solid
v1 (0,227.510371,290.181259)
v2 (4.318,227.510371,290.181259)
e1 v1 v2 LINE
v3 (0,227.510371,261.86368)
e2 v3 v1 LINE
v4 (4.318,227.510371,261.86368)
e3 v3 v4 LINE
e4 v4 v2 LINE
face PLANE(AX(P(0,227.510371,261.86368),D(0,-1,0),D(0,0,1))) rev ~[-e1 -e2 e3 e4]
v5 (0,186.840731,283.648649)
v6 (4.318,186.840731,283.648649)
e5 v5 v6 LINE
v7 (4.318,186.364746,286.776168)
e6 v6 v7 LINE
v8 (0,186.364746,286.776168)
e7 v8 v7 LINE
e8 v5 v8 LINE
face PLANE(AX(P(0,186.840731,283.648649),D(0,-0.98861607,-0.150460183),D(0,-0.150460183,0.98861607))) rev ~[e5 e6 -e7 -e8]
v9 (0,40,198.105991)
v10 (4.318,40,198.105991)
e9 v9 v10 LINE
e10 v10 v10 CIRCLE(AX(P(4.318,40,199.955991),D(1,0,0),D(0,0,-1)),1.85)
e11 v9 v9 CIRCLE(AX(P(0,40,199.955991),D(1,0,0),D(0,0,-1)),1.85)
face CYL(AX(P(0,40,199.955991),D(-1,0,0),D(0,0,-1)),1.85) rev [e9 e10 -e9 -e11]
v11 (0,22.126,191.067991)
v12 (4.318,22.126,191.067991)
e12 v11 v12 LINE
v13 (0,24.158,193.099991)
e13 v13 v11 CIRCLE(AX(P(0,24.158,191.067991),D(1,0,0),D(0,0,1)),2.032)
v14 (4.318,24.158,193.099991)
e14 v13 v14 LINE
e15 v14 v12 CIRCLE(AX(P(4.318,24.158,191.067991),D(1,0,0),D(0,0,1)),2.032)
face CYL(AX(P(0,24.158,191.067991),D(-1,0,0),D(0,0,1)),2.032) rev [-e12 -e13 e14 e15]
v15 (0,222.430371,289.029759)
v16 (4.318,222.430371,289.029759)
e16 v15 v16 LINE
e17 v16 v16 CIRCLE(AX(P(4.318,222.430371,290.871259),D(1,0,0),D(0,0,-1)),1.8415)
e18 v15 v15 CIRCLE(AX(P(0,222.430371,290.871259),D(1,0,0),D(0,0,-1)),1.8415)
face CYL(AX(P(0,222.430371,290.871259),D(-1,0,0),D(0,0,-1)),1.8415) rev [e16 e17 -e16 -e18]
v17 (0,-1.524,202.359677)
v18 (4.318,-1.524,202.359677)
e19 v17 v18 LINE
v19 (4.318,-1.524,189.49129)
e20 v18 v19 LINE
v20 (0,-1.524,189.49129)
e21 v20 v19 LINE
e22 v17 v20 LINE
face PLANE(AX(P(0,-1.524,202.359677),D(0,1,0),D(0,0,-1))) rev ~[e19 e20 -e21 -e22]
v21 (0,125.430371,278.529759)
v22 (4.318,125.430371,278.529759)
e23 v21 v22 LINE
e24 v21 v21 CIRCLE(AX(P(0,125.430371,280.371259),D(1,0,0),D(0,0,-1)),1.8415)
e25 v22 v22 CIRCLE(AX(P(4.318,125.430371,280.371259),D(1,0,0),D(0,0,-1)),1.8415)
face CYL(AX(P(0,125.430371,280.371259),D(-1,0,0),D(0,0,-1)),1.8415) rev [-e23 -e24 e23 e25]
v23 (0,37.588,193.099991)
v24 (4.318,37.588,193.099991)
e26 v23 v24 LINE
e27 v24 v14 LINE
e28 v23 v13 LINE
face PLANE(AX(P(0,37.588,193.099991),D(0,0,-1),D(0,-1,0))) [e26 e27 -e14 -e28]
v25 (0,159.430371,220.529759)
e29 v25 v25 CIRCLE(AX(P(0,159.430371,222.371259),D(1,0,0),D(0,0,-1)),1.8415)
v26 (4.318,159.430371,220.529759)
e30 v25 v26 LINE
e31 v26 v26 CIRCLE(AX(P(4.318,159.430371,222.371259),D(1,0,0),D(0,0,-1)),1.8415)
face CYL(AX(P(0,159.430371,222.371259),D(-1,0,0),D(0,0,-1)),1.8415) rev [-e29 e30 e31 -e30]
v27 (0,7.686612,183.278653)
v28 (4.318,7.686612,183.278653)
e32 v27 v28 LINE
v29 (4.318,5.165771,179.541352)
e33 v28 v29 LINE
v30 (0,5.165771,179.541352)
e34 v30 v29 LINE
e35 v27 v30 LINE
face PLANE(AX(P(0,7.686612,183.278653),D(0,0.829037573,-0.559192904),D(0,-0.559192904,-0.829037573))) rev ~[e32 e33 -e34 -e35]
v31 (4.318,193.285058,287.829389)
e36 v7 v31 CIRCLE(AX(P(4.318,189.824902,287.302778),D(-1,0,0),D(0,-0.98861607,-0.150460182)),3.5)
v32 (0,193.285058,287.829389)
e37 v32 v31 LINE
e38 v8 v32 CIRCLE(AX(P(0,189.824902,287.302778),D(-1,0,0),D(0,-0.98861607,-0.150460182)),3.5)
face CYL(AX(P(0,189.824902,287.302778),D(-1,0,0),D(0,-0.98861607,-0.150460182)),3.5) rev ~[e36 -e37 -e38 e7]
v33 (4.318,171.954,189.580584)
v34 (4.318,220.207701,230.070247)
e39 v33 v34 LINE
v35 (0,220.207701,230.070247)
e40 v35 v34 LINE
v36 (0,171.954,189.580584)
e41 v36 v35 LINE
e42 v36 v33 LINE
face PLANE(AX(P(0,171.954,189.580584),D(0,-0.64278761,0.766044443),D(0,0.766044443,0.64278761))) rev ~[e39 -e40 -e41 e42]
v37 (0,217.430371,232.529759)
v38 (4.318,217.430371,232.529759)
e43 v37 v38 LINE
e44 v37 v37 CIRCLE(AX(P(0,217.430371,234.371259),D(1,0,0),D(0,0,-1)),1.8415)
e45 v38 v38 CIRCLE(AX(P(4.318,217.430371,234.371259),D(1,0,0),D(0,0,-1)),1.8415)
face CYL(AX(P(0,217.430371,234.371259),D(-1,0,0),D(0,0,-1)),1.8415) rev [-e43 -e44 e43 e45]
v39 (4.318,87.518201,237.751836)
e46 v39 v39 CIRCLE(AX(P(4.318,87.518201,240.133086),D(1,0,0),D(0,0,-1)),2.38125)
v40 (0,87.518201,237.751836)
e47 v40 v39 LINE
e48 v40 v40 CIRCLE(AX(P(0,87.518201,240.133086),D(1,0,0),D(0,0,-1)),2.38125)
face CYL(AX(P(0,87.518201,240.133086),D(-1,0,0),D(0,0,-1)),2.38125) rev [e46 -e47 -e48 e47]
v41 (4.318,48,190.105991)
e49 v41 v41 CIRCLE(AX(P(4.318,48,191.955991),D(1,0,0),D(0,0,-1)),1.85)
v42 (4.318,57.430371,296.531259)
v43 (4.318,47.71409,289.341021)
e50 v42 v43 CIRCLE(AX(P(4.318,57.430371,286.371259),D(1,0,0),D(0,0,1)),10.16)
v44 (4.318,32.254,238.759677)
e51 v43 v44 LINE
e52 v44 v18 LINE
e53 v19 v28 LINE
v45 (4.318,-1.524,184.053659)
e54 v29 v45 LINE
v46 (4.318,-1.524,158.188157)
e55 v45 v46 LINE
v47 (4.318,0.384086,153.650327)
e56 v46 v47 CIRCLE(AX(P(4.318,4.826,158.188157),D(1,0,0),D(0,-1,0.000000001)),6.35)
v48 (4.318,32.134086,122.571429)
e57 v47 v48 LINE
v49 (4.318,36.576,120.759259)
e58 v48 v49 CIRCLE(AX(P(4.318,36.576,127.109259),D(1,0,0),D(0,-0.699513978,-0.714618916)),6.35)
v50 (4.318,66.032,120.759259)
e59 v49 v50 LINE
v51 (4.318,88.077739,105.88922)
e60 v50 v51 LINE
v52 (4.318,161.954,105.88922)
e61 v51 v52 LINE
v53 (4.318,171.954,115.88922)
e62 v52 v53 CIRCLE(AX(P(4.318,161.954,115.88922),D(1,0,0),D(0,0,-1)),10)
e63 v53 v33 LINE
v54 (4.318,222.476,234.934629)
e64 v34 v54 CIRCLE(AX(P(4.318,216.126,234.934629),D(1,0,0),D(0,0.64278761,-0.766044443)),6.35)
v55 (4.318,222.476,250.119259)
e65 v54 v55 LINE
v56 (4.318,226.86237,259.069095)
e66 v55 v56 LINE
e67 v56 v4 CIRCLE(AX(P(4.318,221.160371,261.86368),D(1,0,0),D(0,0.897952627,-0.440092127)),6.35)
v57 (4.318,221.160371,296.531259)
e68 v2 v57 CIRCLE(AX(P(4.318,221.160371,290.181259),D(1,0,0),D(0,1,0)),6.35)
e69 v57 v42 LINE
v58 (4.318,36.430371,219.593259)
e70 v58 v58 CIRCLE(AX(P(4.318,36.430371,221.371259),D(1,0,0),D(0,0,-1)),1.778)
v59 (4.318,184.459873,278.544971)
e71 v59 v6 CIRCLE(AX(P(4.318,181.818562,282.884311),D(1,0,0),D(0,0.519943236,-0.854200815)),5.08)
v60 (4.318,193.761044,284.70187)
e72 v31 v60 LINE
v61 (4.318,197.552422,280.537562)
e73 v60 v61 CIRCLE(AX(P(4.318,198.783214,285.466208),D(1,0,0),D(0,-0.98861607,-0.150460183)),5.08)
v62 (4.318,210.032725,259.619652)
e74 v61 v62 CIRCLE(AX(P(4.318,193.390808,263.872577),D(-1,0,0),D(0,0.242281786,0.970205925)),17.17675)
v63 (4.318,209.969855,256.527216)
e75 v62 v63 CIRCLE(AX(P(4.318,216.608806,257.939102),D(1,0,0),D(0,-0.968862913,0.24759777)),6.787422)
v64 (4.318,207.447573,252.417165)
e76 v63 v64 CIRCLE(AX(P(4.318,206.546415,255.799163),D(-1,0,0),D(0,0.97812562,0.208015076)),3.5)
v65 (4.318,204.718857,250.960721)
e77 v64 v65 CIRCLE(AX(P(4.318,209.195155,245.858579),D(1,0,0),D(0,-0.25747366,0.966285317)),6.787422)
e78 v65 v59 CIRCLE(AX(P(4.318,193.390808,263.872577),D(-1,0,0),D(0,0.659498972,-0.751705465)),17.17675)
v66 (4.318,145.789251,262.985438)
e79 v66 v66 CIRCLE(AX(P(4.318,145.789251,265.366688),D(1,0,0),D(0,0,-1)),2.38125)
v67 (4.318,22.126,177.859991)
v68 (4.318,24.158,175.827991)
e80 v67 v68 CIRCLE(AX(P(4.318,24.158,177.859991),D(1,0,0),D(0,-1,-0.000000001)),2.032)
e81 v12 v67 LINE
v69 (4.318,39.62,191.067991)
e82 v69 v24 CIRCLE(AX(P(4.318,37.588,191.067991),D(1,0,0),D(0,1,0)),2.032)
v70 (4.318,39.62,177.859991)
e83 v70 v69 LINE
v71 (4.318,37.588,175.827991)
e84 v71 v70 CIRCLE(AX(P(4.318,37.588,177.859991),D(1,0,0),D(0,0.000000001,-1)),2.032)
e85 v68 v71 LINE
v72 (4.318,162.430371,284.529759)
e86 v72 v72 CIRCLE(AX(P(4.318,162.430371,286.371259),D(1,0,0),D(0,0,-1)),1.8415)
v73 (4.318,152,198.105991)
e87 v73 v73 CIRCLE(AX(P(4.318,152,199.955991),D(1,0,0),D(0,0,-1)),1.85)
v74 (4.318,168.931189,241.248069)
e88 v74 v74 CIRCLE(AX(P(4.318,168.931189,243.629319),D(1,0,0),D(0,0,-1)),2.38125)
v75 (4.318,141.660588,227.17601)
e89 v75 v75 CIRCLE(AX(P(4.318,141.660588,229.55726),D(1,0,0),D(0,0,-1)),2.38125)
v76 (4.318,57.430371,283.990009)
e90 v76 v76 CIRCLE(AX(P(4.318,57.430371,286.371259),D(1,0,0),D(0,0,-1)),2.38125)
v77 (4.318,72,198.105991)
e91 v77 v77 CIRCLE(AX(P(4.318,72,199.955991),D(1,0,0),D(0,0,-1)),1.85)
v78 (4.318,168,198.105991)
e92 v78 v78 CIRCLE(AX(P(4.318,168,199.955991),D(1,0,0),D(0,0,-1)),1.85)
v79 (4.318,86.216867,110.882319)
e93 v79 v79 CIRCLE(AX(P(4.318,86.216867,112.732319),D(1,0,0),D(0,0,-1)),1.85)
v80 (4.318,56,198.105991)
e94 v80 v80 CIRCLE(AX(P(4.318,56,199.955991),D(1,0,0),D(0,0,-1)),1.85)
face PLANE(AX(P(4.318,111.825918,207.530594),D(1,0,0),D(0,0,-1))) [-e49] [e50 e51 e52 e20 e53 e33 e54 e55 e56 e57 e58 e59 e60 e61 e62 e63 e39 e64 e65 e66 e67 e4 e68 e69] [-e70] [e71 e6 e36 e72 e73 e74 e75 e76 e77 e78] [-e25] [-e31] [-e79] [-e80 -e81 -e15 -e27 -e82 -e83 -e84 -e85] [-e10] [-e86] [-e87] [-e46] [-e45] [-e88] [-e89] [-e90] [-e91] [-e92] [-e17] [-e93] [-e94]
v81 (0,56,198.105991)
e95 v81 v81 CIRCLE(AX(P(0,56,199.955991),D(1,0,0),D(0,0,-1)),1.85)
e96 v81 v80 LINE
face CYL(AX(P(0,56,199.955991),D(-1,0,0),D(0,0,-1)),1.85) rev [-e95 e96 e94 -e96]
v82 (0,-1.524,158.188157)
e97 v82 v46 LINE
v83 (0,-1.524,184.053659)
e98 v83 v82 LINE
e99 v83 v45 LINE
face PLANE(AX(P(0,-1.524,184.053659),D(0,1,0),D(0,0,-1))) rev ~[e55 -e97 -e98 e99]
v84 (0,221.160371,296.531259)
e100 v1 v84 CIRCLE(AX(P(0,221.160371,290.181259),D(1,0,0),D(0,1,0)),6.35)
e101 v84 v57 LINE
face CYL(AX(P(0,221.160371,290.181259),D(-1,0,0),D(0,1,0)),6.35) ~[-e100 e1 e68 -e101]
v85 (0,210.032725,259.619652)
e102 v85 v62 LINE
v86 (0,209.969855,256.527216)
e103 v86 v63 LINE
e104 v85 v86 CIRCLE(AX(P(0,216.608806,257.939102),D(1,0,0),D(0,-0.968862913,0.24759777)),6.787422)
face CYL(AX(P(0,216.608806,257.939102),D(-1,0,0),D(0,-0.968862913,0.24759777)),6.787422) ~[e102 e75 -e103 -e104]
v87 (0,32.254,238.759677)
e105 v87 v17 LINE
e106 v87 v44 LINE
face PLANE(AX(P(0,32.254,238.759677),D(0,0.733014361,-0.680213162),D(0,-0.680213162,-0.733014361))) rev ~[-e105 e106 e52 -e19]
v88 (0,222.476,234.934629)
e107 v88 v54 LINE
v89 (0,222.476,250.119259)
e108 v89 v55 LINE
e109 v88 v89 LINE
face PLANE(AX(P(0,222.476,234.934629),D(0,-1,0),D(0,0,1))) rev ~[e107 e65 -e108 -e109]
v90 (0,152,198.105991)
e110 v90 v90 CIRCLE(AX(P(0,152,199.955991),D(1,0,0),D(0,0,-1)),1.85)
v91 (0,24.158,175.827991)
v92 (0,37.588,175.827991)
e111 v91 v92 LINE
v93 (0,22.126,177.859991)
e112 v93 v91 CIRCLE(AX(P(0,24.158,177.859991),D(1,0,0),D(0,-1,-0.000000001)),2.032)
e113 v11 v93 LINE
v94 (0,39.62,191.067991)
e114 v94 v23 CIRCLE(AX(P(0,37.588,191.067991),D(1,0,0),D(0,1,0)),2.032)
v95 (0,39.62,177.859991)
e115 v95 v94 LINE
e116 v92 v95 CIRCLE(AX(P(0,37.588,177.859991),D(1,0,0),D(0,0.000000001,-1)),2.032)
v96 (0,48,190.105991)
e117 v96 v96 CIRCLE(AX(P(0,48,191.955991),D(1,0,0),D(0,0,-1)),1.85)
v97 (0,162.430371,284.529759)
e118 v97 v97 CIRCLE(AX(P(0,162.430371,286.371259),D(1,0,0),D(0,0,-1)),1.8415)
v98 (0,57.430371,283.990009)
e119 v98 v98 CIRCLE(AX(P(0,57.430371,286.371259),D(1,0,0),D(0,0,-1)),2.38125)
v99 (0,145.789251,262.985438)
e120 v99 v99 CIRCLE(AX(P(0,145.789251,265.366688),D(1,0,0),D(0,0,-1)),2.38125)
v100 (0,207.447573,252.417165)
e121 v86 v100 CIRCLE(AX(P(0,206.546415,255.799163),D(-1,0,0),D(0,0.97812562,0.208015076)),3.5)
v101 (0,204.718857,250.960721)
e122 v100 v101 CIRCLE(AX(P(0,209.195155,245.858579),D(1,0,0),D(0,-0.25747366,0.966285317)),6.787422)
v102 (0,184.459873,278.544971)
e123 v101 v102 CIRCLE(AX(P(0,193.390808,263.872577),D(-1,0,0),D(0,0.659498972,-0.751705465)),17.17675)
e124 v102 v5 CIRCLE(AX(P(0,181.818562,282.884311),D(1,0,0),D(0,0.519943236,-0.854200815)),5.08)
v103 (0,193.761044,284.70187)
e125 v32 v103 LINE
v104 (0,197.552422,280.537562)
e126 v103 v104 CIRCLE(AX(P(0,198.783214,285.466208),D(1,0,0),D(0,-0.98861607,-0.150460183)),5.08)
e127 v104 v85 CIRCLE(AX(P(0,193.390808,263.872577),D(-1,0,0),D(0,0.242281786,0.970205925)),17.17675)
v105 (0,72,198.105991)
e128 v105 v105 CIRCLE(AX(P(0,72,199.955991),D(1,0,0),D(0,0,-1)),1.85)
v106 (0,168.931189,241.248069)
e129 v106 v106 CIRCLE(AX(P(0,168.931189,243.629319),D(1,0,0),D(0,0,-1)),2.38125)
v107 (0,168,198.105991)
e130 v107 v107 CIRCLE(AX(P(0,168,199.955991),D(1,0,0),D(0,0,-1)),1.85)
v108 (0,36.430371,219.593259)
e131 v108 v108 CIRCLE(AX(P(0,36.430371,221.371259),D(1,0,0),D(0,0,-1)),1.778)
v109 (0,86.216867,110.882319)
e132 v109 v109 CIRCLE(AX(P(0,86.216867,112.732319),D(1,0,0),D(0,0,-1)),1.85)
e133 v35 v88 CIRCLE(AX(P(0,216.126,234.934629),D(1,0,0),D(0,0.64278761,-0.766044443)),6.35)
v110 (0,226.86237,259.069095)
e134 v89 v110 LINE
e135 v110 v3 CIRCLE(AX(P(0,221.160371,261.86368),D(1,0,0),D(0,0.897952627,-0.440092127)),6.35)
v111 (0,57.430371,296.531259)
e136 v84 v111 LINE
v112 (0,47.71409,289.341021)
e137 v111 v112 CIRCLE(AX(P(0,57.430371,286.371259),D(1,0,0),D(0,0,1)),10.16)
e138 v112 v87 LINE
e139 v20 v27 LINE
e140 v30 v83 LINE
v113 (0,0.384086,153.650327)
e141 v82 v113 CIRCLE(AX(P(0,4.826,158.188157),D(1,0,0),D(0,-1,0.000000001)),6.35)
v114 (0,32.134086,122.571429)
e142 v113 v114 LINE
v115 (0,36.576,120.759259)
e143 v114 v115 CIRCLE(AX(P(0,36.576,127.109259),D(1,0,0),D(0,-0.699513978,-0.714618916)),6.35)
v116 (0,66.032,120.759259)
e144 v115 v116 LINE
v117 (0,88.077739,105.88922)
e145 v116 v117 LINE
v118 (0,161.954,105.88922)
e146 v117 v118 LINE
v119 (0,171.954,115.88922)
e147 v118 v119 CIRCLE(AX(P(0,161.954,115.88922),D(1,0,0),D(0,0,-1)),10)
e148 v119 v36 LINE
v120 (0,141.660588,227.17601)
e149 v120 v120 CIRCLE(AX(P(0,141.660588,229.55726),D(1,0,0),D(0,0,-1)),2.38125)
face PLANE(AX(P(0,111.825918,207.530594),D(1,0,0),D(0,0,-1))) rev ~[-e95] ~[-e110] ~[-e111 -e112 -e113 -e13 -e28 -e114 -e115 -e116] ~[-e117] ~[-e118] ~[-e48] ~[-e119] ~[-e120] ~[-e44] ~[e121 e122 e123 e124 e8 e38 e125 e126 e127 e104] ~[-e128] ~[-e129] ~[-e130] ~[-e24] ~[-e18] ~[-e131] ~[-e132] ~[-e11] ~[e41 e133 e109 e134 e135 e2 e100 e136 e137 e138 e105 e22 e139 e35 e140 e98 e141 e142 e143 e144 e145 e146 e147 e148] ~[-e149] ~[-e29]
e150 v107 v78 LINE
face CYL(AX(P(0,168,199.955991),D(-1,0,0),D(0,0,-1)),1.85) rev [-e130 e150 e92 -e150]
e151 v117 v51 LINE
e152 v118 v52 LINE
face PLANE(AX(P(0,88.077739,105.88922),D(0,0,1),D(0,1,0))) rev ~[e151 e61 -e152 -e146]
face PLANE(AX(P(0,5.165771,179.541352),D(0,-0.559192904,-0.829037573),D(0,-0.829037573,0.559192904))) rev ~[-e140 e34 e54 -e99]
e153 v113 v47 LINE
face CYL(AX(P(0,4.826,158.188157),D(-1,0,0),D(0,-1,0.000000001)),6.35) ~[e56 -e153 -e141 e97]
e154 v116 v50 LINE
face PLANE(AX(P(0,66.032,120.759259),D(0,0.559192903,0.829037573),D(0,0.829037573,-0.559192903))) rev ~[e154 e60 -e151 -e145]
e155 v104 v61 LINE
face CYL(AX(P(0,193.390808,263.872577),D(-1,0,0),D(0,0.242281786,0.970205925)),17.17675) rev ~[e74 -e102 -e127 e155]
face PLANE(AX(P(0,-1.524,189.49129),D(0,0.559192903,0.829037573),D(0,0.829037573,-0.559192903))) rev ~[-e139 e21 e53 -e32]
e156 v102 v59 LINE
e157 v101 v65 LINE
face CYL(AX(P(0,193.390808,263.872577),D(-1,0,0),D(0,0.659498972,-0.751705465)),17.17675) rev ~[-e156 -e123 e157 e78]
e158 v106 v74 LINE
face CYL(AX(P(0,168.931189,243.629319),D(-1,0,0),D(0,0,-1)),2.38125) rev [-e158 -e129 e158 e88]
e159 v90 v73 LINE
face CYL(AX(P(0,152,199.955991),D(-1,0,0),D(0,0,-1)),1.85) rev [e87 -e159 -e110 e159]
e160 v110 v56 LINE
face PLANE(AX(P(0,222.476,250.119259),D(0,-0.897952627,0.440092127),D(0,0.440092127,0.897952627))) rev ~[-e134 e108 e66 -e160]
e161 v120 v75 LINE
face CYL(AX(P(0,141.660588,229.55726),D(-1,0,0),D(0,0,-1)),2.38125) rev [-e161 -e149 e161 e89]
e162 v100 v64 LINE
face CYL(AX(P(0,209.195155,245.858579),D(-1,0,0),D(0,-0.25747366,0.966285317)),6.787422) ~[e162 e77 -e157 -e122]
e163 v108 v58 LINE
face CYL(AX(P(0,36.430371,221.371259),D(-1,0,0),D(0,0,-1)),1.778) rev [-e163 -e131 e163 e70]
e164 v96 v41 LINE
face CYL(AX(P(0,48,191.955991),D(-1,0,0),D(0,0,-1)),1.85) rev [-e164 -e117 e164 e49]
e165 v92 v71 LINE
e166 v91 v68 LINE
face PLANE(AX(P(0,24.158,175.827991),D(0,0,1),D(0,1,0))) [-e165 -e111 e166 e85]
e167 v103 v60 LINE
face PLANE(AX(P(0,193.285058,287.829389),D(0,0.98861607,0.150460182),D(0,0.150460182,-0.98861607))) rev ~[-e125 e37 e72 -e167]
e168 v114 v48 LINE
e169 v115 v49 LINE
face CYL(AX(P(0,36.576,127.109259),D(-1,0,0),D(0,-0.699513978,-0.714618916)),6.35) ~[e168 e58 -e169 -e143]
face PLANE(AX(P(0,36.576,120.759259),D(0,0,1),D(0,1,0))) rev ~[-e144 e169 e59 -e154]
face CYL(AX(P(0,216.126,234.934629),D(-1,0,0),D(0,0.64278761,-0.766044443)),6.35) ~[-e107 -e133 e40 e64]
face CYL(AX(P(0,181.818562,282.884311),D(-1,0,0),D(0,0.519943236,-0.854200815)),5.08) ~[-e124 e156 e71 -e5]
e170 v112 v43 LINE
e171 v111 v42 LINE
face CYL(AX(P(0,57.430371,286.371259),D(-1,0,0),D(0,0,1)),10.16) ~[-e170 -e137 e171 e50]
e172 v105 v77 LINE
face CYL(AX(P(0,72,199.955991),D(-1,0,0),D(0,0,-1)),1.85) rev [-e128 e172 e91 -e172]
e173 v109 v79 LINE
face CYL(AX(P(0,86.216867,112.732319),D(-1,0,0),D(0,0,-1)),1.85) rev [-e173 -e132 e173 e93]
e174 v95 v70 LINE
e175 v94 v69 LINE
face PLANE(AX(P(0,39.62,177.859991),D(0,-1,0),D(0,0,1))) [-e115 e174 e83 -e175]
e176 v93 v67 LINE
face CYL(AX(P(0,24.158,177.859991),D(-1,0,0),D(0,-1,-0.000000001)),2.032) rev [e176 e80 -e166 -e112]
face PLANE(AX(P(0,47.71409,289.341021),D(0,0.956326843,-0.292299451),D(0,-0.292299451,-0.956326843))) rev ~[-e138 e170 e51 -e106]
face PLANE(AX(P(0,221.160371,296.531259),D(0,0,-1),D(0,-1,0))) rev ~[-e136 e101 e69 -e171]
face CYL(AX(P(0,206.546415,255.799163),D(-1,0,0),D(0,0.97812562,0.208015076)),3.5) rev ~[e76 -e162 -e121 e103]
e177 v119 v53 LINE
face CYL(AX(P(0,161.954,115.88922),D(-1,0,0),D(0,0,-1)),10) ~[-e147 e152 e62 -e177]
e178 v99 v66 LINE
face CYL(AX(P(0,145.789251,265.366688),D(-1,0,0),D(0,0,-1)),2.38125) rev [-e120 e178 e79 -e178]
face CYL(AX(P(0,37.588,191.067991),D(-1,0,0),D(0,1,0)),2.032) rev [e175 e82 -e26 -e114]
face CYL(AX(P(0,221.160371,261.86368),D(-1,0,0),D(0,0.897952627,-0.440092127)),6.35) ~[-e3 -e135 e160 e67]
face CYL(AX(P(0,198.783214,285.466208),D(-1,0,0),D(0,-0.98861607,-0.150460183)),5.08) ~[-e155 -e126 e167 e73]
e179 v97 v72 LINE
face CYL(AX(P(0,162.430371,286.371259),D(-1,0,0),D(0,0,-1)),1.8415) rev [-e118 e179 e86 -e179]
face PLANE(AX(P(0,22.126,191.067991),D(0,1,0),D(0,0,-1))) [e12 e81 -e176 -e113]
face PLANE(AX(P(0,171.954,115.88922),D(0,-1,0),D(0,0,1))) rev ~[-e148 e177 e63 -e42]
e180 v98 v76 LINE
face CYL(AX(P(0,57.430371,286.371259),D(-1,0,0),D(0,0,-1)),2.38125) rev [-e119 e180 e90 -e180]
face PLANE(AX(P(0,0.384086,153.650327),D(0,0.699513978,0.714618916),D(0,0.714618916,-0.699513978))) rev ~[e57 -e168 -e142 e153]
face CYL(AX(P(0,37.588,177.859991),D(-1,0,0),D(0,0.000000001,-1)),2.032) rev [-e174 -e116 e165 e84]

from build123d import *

# Parameters (mm, degrees)
SKETCH2_R           = 2.38125
SKETCH2_R_2         = 1.850000002
SKETCH2_R_3         = 1.85
SKETCH2_R_4         = 1.778
SKETCH2_R_5         = 1.8415
BOSS_EXTRUDE1_DEPTH = 4.318


with BuildPart() as part:
    # Sketch2 → Boss-Extrude1 (new body)
    with BuildSketch(Plane(origin=(0, 0, 0), x_dir=(0, 0, -1), z_dir=(1, 0, 0))):
        with BuildLine():
            Line((-115.889220019, 171.954), (-189.580583869, 171.954))
            Line((-189.580583869, 171.954), (-230.07024685, 220.207701322))
            ThreePointArc((-230.07024685, 220.207701322), (-232.251003102, 221.881054448), (-234.934629064, 222.476))
            Line((-234.934629064, 222.476), (-250.119258716, 222.476))
            Line((-250.119258716, 222.476), (-259.069094553, 226.862369804))
            ThreePointArc((-259.069094553, 226.862369804), (-260.42931468, 227.346249494), (-261.863679558, 227.510370624))
            Line((-261.863679558, 227.510370624), (-290.181258716, 227.510370624))
            ThreePointArc((-290.181258716, 227.510370624), (-294.671386777, 225.650498684), (-296.531258716, 221.160370624))
            Line((-296.531258716, 221.160370624), (-296.531258716, 57.430370624))
            ThreePointArc((-296.531258716, 57.430370624), (-294.538216111, 51.386662581), (-289.341021135, 47.714089896))
            Line((-289.341021135, 47.714089896), (-238.759677477, 32.254))
            Line((-238.759677477, 32.254), (-202.359677477, -1.524))
            Line((-202.359677477, -1.524), (-189.491289728, -1.524))
            Line((-189.491289728, -1.524), (-183.278653236, 7.686612375))
            Line((-183.278653236, 7.686612375), (-179.541351859, 5.165770766))
            Line((-179.541351859, 5.165770766), (-184.053659217, -1.524))
            Line((-184.053659217, -1.524), (-158.188157254, -1.524))
            ThreePointArc((-158.188157254, -1.524), (-155.726821474, -1.027573796), (-153.650327137, 0.384086243))
            Line((-153.650327137, 0.384086243), (-122.571428599, 32.134086243))
            ThreePointArc((-122.571428599, 32.134086243), (-121.22972977, 34.177325496), (-120.759258716, 36.576))
            Line((-120.759258716, 36.576), (-120.759258716, 66.032))
            Line((-120.759258716, 66.032), (-105.889220019, 88.077738973))
            Line((-105.889220019, 88.077738973), (-105.889220019, 161.954))
            ThreePointArc((-105.889220019, 161.954), (-108.818152207, 169.025067812), (-115.889220019, 171.954))
        make_face()
        with Locations((-243.629318942, 168.931188955)):
            Circle(SKETCH2_R, mode=Mode.SUBTRACT)
        with Locations((-286.371258716, 57.430370624)):
            Circle(SKETCH2_R, mode=Mode.SUBTRACT)
        with Locations((-229.557259723, 141.660587995)):
            Circle(SKETCH2_R, mode=Mode.SUBTRACT)
        with Locations((-112.732319415, 86.216867446)):
            Circle(SKETCH2_R_2, mode=Mode.SUBTRACT)
        with Locations((-199.955990958, 72)):
            Circle(SKETCH2_R_3, mode=Mode.SUBTRACT)
        with Locations((-199.955990958, 152)):
            Circle(SKETCH2_R_3, mode=Mode.SUBTRACT)
        with Locations((-199.955990958, 168)):
            Circle(SKETCH2_R_3, mode=Mode.SUBTRACT)
        with Locations((-221.371258716, 36.430370624)):
            Circle(SKETCH2_R_4, mode=Mode.SUBTRACT)
        with Locations((-240.13308557, 87.518200818)):
            Circle(SKETCH2_R, mode=Mode.SUBTRACT)
        with Locations((-199.955990958, 40)):
            Circle(SKETCH2_R_3, mode=Mode.SUBTRACT)
        with Locations((-191.955990958, 48)):
            Circle(SKETCH2_R_3, mode=Mode.SUBTRACT)
        with Locations((-199.955990958, 56)):
            Circle(SKETCH2_R_3, mode=Mode.SUBTRACT)
        with Locations((-280.371258716, 125.430370624)):
            Circle(SKETCH2_R_5, mode=Mode.SUBTRACT)
        with Locations((-222.371258716, 159.430370624)):
            Circle(SKETCH2_R_5, mode=Mode.SUBTRACT)
        with Locations((-286.371258716, 162.430370624)):
            Circle(SKETCH2_R_5, mode=Mode.SUBTRACT)
        with Locations((-265.366688027, 145.789251152)):
            Circle(SKETCH2_R, mode=Mode.SUBTRACT)
        with Locations((-234.371258716, 217.430370624)):
            Circle(SKETCH2_R_5, mode=Mode.SUBTRACT)
        with Locations((-290.871258716, 222.430370624)):
            Circle(SKETCH2_R_5, mode=Mode.SUBTRACT)
        with BuildLine():
            Line((-287.829388906, 193.285058383), (-284.701870397, 193.761043975))
            ThreePointArc((-284.701870397, 193.761043975), (-282.046244193, 195.026852777), (-280.537562028, 197.552422136))
            ThreePointArc((-280.537562028, 197.552422136), (-272.673389463, 208.141620232), (-259.619652409, 210.032724503))
            ThreePointArc((-259.619652409, 210.032724503), (-258.077063161, 209.822786209), (-256.52721589, 209.969854606))
            ThreePointArc((-256.52721589, 209.969854606), (-253.968498332, 209.529478199), (-252.417164512, 207.447572749))
            ThreePointArc((-252.417164512, 207.447572749), (-251.846450969, 205.99914542), (-250.960720569, 204.718857431))
            ThreePointArc((-250.960720569, 204.718857431), (-253.704909037, 179.546702846), (-278.544971255, 184.459873489))
            ThreePointArc((-278.544971255, 184.459873489), (-280.736689043, 186.422268863), (-283.64864912, 186.840731487))
            Line((-283.64864912, 186.840731487), (-286.776167629, 186.364745894))
            ThreePointArc((-286.776167629, 186.364745894), (-290.762934512, 189.2982915), (-287.829388906, 193.285058383))
        make_face(mode=Mode.SUBTRACT)
        with BuildLine():
            Line((-177.859990958, 39.62), (-191.067990958, 39.62))
            ThreePointArc((-191.067990958, 39.62), (-192.504831938, 39.024840979), (-193.099990958, 37.588))
            Line((-193.099990958, 37.588), (-193.099990958, 24.158))
            ThreePointArc((-193.099990958, 24.158), (-192.504831938, 22.721159021), (-191.067990958, 22.126))
            Line((-191.067990958, 22.126), (-177.859990958, 22.126))
            ThreePointArc((-177.859990958, 22.126), (-176.423149979, 22.721159021), (-175.827990958, 24.158))
            Line((-175.827990958, 24.158), (-175.827990958, 37.588))
            ThreePointArc((-175.827990958, 37.588), (-176.423149979, 39.024840979), (-177.859990958, 39.62))
        make_face(mode=Mode.SUBTRACT)
    extrude(amount=BOSS_EXTRUDE1_DEPTH)


solid = part.part
